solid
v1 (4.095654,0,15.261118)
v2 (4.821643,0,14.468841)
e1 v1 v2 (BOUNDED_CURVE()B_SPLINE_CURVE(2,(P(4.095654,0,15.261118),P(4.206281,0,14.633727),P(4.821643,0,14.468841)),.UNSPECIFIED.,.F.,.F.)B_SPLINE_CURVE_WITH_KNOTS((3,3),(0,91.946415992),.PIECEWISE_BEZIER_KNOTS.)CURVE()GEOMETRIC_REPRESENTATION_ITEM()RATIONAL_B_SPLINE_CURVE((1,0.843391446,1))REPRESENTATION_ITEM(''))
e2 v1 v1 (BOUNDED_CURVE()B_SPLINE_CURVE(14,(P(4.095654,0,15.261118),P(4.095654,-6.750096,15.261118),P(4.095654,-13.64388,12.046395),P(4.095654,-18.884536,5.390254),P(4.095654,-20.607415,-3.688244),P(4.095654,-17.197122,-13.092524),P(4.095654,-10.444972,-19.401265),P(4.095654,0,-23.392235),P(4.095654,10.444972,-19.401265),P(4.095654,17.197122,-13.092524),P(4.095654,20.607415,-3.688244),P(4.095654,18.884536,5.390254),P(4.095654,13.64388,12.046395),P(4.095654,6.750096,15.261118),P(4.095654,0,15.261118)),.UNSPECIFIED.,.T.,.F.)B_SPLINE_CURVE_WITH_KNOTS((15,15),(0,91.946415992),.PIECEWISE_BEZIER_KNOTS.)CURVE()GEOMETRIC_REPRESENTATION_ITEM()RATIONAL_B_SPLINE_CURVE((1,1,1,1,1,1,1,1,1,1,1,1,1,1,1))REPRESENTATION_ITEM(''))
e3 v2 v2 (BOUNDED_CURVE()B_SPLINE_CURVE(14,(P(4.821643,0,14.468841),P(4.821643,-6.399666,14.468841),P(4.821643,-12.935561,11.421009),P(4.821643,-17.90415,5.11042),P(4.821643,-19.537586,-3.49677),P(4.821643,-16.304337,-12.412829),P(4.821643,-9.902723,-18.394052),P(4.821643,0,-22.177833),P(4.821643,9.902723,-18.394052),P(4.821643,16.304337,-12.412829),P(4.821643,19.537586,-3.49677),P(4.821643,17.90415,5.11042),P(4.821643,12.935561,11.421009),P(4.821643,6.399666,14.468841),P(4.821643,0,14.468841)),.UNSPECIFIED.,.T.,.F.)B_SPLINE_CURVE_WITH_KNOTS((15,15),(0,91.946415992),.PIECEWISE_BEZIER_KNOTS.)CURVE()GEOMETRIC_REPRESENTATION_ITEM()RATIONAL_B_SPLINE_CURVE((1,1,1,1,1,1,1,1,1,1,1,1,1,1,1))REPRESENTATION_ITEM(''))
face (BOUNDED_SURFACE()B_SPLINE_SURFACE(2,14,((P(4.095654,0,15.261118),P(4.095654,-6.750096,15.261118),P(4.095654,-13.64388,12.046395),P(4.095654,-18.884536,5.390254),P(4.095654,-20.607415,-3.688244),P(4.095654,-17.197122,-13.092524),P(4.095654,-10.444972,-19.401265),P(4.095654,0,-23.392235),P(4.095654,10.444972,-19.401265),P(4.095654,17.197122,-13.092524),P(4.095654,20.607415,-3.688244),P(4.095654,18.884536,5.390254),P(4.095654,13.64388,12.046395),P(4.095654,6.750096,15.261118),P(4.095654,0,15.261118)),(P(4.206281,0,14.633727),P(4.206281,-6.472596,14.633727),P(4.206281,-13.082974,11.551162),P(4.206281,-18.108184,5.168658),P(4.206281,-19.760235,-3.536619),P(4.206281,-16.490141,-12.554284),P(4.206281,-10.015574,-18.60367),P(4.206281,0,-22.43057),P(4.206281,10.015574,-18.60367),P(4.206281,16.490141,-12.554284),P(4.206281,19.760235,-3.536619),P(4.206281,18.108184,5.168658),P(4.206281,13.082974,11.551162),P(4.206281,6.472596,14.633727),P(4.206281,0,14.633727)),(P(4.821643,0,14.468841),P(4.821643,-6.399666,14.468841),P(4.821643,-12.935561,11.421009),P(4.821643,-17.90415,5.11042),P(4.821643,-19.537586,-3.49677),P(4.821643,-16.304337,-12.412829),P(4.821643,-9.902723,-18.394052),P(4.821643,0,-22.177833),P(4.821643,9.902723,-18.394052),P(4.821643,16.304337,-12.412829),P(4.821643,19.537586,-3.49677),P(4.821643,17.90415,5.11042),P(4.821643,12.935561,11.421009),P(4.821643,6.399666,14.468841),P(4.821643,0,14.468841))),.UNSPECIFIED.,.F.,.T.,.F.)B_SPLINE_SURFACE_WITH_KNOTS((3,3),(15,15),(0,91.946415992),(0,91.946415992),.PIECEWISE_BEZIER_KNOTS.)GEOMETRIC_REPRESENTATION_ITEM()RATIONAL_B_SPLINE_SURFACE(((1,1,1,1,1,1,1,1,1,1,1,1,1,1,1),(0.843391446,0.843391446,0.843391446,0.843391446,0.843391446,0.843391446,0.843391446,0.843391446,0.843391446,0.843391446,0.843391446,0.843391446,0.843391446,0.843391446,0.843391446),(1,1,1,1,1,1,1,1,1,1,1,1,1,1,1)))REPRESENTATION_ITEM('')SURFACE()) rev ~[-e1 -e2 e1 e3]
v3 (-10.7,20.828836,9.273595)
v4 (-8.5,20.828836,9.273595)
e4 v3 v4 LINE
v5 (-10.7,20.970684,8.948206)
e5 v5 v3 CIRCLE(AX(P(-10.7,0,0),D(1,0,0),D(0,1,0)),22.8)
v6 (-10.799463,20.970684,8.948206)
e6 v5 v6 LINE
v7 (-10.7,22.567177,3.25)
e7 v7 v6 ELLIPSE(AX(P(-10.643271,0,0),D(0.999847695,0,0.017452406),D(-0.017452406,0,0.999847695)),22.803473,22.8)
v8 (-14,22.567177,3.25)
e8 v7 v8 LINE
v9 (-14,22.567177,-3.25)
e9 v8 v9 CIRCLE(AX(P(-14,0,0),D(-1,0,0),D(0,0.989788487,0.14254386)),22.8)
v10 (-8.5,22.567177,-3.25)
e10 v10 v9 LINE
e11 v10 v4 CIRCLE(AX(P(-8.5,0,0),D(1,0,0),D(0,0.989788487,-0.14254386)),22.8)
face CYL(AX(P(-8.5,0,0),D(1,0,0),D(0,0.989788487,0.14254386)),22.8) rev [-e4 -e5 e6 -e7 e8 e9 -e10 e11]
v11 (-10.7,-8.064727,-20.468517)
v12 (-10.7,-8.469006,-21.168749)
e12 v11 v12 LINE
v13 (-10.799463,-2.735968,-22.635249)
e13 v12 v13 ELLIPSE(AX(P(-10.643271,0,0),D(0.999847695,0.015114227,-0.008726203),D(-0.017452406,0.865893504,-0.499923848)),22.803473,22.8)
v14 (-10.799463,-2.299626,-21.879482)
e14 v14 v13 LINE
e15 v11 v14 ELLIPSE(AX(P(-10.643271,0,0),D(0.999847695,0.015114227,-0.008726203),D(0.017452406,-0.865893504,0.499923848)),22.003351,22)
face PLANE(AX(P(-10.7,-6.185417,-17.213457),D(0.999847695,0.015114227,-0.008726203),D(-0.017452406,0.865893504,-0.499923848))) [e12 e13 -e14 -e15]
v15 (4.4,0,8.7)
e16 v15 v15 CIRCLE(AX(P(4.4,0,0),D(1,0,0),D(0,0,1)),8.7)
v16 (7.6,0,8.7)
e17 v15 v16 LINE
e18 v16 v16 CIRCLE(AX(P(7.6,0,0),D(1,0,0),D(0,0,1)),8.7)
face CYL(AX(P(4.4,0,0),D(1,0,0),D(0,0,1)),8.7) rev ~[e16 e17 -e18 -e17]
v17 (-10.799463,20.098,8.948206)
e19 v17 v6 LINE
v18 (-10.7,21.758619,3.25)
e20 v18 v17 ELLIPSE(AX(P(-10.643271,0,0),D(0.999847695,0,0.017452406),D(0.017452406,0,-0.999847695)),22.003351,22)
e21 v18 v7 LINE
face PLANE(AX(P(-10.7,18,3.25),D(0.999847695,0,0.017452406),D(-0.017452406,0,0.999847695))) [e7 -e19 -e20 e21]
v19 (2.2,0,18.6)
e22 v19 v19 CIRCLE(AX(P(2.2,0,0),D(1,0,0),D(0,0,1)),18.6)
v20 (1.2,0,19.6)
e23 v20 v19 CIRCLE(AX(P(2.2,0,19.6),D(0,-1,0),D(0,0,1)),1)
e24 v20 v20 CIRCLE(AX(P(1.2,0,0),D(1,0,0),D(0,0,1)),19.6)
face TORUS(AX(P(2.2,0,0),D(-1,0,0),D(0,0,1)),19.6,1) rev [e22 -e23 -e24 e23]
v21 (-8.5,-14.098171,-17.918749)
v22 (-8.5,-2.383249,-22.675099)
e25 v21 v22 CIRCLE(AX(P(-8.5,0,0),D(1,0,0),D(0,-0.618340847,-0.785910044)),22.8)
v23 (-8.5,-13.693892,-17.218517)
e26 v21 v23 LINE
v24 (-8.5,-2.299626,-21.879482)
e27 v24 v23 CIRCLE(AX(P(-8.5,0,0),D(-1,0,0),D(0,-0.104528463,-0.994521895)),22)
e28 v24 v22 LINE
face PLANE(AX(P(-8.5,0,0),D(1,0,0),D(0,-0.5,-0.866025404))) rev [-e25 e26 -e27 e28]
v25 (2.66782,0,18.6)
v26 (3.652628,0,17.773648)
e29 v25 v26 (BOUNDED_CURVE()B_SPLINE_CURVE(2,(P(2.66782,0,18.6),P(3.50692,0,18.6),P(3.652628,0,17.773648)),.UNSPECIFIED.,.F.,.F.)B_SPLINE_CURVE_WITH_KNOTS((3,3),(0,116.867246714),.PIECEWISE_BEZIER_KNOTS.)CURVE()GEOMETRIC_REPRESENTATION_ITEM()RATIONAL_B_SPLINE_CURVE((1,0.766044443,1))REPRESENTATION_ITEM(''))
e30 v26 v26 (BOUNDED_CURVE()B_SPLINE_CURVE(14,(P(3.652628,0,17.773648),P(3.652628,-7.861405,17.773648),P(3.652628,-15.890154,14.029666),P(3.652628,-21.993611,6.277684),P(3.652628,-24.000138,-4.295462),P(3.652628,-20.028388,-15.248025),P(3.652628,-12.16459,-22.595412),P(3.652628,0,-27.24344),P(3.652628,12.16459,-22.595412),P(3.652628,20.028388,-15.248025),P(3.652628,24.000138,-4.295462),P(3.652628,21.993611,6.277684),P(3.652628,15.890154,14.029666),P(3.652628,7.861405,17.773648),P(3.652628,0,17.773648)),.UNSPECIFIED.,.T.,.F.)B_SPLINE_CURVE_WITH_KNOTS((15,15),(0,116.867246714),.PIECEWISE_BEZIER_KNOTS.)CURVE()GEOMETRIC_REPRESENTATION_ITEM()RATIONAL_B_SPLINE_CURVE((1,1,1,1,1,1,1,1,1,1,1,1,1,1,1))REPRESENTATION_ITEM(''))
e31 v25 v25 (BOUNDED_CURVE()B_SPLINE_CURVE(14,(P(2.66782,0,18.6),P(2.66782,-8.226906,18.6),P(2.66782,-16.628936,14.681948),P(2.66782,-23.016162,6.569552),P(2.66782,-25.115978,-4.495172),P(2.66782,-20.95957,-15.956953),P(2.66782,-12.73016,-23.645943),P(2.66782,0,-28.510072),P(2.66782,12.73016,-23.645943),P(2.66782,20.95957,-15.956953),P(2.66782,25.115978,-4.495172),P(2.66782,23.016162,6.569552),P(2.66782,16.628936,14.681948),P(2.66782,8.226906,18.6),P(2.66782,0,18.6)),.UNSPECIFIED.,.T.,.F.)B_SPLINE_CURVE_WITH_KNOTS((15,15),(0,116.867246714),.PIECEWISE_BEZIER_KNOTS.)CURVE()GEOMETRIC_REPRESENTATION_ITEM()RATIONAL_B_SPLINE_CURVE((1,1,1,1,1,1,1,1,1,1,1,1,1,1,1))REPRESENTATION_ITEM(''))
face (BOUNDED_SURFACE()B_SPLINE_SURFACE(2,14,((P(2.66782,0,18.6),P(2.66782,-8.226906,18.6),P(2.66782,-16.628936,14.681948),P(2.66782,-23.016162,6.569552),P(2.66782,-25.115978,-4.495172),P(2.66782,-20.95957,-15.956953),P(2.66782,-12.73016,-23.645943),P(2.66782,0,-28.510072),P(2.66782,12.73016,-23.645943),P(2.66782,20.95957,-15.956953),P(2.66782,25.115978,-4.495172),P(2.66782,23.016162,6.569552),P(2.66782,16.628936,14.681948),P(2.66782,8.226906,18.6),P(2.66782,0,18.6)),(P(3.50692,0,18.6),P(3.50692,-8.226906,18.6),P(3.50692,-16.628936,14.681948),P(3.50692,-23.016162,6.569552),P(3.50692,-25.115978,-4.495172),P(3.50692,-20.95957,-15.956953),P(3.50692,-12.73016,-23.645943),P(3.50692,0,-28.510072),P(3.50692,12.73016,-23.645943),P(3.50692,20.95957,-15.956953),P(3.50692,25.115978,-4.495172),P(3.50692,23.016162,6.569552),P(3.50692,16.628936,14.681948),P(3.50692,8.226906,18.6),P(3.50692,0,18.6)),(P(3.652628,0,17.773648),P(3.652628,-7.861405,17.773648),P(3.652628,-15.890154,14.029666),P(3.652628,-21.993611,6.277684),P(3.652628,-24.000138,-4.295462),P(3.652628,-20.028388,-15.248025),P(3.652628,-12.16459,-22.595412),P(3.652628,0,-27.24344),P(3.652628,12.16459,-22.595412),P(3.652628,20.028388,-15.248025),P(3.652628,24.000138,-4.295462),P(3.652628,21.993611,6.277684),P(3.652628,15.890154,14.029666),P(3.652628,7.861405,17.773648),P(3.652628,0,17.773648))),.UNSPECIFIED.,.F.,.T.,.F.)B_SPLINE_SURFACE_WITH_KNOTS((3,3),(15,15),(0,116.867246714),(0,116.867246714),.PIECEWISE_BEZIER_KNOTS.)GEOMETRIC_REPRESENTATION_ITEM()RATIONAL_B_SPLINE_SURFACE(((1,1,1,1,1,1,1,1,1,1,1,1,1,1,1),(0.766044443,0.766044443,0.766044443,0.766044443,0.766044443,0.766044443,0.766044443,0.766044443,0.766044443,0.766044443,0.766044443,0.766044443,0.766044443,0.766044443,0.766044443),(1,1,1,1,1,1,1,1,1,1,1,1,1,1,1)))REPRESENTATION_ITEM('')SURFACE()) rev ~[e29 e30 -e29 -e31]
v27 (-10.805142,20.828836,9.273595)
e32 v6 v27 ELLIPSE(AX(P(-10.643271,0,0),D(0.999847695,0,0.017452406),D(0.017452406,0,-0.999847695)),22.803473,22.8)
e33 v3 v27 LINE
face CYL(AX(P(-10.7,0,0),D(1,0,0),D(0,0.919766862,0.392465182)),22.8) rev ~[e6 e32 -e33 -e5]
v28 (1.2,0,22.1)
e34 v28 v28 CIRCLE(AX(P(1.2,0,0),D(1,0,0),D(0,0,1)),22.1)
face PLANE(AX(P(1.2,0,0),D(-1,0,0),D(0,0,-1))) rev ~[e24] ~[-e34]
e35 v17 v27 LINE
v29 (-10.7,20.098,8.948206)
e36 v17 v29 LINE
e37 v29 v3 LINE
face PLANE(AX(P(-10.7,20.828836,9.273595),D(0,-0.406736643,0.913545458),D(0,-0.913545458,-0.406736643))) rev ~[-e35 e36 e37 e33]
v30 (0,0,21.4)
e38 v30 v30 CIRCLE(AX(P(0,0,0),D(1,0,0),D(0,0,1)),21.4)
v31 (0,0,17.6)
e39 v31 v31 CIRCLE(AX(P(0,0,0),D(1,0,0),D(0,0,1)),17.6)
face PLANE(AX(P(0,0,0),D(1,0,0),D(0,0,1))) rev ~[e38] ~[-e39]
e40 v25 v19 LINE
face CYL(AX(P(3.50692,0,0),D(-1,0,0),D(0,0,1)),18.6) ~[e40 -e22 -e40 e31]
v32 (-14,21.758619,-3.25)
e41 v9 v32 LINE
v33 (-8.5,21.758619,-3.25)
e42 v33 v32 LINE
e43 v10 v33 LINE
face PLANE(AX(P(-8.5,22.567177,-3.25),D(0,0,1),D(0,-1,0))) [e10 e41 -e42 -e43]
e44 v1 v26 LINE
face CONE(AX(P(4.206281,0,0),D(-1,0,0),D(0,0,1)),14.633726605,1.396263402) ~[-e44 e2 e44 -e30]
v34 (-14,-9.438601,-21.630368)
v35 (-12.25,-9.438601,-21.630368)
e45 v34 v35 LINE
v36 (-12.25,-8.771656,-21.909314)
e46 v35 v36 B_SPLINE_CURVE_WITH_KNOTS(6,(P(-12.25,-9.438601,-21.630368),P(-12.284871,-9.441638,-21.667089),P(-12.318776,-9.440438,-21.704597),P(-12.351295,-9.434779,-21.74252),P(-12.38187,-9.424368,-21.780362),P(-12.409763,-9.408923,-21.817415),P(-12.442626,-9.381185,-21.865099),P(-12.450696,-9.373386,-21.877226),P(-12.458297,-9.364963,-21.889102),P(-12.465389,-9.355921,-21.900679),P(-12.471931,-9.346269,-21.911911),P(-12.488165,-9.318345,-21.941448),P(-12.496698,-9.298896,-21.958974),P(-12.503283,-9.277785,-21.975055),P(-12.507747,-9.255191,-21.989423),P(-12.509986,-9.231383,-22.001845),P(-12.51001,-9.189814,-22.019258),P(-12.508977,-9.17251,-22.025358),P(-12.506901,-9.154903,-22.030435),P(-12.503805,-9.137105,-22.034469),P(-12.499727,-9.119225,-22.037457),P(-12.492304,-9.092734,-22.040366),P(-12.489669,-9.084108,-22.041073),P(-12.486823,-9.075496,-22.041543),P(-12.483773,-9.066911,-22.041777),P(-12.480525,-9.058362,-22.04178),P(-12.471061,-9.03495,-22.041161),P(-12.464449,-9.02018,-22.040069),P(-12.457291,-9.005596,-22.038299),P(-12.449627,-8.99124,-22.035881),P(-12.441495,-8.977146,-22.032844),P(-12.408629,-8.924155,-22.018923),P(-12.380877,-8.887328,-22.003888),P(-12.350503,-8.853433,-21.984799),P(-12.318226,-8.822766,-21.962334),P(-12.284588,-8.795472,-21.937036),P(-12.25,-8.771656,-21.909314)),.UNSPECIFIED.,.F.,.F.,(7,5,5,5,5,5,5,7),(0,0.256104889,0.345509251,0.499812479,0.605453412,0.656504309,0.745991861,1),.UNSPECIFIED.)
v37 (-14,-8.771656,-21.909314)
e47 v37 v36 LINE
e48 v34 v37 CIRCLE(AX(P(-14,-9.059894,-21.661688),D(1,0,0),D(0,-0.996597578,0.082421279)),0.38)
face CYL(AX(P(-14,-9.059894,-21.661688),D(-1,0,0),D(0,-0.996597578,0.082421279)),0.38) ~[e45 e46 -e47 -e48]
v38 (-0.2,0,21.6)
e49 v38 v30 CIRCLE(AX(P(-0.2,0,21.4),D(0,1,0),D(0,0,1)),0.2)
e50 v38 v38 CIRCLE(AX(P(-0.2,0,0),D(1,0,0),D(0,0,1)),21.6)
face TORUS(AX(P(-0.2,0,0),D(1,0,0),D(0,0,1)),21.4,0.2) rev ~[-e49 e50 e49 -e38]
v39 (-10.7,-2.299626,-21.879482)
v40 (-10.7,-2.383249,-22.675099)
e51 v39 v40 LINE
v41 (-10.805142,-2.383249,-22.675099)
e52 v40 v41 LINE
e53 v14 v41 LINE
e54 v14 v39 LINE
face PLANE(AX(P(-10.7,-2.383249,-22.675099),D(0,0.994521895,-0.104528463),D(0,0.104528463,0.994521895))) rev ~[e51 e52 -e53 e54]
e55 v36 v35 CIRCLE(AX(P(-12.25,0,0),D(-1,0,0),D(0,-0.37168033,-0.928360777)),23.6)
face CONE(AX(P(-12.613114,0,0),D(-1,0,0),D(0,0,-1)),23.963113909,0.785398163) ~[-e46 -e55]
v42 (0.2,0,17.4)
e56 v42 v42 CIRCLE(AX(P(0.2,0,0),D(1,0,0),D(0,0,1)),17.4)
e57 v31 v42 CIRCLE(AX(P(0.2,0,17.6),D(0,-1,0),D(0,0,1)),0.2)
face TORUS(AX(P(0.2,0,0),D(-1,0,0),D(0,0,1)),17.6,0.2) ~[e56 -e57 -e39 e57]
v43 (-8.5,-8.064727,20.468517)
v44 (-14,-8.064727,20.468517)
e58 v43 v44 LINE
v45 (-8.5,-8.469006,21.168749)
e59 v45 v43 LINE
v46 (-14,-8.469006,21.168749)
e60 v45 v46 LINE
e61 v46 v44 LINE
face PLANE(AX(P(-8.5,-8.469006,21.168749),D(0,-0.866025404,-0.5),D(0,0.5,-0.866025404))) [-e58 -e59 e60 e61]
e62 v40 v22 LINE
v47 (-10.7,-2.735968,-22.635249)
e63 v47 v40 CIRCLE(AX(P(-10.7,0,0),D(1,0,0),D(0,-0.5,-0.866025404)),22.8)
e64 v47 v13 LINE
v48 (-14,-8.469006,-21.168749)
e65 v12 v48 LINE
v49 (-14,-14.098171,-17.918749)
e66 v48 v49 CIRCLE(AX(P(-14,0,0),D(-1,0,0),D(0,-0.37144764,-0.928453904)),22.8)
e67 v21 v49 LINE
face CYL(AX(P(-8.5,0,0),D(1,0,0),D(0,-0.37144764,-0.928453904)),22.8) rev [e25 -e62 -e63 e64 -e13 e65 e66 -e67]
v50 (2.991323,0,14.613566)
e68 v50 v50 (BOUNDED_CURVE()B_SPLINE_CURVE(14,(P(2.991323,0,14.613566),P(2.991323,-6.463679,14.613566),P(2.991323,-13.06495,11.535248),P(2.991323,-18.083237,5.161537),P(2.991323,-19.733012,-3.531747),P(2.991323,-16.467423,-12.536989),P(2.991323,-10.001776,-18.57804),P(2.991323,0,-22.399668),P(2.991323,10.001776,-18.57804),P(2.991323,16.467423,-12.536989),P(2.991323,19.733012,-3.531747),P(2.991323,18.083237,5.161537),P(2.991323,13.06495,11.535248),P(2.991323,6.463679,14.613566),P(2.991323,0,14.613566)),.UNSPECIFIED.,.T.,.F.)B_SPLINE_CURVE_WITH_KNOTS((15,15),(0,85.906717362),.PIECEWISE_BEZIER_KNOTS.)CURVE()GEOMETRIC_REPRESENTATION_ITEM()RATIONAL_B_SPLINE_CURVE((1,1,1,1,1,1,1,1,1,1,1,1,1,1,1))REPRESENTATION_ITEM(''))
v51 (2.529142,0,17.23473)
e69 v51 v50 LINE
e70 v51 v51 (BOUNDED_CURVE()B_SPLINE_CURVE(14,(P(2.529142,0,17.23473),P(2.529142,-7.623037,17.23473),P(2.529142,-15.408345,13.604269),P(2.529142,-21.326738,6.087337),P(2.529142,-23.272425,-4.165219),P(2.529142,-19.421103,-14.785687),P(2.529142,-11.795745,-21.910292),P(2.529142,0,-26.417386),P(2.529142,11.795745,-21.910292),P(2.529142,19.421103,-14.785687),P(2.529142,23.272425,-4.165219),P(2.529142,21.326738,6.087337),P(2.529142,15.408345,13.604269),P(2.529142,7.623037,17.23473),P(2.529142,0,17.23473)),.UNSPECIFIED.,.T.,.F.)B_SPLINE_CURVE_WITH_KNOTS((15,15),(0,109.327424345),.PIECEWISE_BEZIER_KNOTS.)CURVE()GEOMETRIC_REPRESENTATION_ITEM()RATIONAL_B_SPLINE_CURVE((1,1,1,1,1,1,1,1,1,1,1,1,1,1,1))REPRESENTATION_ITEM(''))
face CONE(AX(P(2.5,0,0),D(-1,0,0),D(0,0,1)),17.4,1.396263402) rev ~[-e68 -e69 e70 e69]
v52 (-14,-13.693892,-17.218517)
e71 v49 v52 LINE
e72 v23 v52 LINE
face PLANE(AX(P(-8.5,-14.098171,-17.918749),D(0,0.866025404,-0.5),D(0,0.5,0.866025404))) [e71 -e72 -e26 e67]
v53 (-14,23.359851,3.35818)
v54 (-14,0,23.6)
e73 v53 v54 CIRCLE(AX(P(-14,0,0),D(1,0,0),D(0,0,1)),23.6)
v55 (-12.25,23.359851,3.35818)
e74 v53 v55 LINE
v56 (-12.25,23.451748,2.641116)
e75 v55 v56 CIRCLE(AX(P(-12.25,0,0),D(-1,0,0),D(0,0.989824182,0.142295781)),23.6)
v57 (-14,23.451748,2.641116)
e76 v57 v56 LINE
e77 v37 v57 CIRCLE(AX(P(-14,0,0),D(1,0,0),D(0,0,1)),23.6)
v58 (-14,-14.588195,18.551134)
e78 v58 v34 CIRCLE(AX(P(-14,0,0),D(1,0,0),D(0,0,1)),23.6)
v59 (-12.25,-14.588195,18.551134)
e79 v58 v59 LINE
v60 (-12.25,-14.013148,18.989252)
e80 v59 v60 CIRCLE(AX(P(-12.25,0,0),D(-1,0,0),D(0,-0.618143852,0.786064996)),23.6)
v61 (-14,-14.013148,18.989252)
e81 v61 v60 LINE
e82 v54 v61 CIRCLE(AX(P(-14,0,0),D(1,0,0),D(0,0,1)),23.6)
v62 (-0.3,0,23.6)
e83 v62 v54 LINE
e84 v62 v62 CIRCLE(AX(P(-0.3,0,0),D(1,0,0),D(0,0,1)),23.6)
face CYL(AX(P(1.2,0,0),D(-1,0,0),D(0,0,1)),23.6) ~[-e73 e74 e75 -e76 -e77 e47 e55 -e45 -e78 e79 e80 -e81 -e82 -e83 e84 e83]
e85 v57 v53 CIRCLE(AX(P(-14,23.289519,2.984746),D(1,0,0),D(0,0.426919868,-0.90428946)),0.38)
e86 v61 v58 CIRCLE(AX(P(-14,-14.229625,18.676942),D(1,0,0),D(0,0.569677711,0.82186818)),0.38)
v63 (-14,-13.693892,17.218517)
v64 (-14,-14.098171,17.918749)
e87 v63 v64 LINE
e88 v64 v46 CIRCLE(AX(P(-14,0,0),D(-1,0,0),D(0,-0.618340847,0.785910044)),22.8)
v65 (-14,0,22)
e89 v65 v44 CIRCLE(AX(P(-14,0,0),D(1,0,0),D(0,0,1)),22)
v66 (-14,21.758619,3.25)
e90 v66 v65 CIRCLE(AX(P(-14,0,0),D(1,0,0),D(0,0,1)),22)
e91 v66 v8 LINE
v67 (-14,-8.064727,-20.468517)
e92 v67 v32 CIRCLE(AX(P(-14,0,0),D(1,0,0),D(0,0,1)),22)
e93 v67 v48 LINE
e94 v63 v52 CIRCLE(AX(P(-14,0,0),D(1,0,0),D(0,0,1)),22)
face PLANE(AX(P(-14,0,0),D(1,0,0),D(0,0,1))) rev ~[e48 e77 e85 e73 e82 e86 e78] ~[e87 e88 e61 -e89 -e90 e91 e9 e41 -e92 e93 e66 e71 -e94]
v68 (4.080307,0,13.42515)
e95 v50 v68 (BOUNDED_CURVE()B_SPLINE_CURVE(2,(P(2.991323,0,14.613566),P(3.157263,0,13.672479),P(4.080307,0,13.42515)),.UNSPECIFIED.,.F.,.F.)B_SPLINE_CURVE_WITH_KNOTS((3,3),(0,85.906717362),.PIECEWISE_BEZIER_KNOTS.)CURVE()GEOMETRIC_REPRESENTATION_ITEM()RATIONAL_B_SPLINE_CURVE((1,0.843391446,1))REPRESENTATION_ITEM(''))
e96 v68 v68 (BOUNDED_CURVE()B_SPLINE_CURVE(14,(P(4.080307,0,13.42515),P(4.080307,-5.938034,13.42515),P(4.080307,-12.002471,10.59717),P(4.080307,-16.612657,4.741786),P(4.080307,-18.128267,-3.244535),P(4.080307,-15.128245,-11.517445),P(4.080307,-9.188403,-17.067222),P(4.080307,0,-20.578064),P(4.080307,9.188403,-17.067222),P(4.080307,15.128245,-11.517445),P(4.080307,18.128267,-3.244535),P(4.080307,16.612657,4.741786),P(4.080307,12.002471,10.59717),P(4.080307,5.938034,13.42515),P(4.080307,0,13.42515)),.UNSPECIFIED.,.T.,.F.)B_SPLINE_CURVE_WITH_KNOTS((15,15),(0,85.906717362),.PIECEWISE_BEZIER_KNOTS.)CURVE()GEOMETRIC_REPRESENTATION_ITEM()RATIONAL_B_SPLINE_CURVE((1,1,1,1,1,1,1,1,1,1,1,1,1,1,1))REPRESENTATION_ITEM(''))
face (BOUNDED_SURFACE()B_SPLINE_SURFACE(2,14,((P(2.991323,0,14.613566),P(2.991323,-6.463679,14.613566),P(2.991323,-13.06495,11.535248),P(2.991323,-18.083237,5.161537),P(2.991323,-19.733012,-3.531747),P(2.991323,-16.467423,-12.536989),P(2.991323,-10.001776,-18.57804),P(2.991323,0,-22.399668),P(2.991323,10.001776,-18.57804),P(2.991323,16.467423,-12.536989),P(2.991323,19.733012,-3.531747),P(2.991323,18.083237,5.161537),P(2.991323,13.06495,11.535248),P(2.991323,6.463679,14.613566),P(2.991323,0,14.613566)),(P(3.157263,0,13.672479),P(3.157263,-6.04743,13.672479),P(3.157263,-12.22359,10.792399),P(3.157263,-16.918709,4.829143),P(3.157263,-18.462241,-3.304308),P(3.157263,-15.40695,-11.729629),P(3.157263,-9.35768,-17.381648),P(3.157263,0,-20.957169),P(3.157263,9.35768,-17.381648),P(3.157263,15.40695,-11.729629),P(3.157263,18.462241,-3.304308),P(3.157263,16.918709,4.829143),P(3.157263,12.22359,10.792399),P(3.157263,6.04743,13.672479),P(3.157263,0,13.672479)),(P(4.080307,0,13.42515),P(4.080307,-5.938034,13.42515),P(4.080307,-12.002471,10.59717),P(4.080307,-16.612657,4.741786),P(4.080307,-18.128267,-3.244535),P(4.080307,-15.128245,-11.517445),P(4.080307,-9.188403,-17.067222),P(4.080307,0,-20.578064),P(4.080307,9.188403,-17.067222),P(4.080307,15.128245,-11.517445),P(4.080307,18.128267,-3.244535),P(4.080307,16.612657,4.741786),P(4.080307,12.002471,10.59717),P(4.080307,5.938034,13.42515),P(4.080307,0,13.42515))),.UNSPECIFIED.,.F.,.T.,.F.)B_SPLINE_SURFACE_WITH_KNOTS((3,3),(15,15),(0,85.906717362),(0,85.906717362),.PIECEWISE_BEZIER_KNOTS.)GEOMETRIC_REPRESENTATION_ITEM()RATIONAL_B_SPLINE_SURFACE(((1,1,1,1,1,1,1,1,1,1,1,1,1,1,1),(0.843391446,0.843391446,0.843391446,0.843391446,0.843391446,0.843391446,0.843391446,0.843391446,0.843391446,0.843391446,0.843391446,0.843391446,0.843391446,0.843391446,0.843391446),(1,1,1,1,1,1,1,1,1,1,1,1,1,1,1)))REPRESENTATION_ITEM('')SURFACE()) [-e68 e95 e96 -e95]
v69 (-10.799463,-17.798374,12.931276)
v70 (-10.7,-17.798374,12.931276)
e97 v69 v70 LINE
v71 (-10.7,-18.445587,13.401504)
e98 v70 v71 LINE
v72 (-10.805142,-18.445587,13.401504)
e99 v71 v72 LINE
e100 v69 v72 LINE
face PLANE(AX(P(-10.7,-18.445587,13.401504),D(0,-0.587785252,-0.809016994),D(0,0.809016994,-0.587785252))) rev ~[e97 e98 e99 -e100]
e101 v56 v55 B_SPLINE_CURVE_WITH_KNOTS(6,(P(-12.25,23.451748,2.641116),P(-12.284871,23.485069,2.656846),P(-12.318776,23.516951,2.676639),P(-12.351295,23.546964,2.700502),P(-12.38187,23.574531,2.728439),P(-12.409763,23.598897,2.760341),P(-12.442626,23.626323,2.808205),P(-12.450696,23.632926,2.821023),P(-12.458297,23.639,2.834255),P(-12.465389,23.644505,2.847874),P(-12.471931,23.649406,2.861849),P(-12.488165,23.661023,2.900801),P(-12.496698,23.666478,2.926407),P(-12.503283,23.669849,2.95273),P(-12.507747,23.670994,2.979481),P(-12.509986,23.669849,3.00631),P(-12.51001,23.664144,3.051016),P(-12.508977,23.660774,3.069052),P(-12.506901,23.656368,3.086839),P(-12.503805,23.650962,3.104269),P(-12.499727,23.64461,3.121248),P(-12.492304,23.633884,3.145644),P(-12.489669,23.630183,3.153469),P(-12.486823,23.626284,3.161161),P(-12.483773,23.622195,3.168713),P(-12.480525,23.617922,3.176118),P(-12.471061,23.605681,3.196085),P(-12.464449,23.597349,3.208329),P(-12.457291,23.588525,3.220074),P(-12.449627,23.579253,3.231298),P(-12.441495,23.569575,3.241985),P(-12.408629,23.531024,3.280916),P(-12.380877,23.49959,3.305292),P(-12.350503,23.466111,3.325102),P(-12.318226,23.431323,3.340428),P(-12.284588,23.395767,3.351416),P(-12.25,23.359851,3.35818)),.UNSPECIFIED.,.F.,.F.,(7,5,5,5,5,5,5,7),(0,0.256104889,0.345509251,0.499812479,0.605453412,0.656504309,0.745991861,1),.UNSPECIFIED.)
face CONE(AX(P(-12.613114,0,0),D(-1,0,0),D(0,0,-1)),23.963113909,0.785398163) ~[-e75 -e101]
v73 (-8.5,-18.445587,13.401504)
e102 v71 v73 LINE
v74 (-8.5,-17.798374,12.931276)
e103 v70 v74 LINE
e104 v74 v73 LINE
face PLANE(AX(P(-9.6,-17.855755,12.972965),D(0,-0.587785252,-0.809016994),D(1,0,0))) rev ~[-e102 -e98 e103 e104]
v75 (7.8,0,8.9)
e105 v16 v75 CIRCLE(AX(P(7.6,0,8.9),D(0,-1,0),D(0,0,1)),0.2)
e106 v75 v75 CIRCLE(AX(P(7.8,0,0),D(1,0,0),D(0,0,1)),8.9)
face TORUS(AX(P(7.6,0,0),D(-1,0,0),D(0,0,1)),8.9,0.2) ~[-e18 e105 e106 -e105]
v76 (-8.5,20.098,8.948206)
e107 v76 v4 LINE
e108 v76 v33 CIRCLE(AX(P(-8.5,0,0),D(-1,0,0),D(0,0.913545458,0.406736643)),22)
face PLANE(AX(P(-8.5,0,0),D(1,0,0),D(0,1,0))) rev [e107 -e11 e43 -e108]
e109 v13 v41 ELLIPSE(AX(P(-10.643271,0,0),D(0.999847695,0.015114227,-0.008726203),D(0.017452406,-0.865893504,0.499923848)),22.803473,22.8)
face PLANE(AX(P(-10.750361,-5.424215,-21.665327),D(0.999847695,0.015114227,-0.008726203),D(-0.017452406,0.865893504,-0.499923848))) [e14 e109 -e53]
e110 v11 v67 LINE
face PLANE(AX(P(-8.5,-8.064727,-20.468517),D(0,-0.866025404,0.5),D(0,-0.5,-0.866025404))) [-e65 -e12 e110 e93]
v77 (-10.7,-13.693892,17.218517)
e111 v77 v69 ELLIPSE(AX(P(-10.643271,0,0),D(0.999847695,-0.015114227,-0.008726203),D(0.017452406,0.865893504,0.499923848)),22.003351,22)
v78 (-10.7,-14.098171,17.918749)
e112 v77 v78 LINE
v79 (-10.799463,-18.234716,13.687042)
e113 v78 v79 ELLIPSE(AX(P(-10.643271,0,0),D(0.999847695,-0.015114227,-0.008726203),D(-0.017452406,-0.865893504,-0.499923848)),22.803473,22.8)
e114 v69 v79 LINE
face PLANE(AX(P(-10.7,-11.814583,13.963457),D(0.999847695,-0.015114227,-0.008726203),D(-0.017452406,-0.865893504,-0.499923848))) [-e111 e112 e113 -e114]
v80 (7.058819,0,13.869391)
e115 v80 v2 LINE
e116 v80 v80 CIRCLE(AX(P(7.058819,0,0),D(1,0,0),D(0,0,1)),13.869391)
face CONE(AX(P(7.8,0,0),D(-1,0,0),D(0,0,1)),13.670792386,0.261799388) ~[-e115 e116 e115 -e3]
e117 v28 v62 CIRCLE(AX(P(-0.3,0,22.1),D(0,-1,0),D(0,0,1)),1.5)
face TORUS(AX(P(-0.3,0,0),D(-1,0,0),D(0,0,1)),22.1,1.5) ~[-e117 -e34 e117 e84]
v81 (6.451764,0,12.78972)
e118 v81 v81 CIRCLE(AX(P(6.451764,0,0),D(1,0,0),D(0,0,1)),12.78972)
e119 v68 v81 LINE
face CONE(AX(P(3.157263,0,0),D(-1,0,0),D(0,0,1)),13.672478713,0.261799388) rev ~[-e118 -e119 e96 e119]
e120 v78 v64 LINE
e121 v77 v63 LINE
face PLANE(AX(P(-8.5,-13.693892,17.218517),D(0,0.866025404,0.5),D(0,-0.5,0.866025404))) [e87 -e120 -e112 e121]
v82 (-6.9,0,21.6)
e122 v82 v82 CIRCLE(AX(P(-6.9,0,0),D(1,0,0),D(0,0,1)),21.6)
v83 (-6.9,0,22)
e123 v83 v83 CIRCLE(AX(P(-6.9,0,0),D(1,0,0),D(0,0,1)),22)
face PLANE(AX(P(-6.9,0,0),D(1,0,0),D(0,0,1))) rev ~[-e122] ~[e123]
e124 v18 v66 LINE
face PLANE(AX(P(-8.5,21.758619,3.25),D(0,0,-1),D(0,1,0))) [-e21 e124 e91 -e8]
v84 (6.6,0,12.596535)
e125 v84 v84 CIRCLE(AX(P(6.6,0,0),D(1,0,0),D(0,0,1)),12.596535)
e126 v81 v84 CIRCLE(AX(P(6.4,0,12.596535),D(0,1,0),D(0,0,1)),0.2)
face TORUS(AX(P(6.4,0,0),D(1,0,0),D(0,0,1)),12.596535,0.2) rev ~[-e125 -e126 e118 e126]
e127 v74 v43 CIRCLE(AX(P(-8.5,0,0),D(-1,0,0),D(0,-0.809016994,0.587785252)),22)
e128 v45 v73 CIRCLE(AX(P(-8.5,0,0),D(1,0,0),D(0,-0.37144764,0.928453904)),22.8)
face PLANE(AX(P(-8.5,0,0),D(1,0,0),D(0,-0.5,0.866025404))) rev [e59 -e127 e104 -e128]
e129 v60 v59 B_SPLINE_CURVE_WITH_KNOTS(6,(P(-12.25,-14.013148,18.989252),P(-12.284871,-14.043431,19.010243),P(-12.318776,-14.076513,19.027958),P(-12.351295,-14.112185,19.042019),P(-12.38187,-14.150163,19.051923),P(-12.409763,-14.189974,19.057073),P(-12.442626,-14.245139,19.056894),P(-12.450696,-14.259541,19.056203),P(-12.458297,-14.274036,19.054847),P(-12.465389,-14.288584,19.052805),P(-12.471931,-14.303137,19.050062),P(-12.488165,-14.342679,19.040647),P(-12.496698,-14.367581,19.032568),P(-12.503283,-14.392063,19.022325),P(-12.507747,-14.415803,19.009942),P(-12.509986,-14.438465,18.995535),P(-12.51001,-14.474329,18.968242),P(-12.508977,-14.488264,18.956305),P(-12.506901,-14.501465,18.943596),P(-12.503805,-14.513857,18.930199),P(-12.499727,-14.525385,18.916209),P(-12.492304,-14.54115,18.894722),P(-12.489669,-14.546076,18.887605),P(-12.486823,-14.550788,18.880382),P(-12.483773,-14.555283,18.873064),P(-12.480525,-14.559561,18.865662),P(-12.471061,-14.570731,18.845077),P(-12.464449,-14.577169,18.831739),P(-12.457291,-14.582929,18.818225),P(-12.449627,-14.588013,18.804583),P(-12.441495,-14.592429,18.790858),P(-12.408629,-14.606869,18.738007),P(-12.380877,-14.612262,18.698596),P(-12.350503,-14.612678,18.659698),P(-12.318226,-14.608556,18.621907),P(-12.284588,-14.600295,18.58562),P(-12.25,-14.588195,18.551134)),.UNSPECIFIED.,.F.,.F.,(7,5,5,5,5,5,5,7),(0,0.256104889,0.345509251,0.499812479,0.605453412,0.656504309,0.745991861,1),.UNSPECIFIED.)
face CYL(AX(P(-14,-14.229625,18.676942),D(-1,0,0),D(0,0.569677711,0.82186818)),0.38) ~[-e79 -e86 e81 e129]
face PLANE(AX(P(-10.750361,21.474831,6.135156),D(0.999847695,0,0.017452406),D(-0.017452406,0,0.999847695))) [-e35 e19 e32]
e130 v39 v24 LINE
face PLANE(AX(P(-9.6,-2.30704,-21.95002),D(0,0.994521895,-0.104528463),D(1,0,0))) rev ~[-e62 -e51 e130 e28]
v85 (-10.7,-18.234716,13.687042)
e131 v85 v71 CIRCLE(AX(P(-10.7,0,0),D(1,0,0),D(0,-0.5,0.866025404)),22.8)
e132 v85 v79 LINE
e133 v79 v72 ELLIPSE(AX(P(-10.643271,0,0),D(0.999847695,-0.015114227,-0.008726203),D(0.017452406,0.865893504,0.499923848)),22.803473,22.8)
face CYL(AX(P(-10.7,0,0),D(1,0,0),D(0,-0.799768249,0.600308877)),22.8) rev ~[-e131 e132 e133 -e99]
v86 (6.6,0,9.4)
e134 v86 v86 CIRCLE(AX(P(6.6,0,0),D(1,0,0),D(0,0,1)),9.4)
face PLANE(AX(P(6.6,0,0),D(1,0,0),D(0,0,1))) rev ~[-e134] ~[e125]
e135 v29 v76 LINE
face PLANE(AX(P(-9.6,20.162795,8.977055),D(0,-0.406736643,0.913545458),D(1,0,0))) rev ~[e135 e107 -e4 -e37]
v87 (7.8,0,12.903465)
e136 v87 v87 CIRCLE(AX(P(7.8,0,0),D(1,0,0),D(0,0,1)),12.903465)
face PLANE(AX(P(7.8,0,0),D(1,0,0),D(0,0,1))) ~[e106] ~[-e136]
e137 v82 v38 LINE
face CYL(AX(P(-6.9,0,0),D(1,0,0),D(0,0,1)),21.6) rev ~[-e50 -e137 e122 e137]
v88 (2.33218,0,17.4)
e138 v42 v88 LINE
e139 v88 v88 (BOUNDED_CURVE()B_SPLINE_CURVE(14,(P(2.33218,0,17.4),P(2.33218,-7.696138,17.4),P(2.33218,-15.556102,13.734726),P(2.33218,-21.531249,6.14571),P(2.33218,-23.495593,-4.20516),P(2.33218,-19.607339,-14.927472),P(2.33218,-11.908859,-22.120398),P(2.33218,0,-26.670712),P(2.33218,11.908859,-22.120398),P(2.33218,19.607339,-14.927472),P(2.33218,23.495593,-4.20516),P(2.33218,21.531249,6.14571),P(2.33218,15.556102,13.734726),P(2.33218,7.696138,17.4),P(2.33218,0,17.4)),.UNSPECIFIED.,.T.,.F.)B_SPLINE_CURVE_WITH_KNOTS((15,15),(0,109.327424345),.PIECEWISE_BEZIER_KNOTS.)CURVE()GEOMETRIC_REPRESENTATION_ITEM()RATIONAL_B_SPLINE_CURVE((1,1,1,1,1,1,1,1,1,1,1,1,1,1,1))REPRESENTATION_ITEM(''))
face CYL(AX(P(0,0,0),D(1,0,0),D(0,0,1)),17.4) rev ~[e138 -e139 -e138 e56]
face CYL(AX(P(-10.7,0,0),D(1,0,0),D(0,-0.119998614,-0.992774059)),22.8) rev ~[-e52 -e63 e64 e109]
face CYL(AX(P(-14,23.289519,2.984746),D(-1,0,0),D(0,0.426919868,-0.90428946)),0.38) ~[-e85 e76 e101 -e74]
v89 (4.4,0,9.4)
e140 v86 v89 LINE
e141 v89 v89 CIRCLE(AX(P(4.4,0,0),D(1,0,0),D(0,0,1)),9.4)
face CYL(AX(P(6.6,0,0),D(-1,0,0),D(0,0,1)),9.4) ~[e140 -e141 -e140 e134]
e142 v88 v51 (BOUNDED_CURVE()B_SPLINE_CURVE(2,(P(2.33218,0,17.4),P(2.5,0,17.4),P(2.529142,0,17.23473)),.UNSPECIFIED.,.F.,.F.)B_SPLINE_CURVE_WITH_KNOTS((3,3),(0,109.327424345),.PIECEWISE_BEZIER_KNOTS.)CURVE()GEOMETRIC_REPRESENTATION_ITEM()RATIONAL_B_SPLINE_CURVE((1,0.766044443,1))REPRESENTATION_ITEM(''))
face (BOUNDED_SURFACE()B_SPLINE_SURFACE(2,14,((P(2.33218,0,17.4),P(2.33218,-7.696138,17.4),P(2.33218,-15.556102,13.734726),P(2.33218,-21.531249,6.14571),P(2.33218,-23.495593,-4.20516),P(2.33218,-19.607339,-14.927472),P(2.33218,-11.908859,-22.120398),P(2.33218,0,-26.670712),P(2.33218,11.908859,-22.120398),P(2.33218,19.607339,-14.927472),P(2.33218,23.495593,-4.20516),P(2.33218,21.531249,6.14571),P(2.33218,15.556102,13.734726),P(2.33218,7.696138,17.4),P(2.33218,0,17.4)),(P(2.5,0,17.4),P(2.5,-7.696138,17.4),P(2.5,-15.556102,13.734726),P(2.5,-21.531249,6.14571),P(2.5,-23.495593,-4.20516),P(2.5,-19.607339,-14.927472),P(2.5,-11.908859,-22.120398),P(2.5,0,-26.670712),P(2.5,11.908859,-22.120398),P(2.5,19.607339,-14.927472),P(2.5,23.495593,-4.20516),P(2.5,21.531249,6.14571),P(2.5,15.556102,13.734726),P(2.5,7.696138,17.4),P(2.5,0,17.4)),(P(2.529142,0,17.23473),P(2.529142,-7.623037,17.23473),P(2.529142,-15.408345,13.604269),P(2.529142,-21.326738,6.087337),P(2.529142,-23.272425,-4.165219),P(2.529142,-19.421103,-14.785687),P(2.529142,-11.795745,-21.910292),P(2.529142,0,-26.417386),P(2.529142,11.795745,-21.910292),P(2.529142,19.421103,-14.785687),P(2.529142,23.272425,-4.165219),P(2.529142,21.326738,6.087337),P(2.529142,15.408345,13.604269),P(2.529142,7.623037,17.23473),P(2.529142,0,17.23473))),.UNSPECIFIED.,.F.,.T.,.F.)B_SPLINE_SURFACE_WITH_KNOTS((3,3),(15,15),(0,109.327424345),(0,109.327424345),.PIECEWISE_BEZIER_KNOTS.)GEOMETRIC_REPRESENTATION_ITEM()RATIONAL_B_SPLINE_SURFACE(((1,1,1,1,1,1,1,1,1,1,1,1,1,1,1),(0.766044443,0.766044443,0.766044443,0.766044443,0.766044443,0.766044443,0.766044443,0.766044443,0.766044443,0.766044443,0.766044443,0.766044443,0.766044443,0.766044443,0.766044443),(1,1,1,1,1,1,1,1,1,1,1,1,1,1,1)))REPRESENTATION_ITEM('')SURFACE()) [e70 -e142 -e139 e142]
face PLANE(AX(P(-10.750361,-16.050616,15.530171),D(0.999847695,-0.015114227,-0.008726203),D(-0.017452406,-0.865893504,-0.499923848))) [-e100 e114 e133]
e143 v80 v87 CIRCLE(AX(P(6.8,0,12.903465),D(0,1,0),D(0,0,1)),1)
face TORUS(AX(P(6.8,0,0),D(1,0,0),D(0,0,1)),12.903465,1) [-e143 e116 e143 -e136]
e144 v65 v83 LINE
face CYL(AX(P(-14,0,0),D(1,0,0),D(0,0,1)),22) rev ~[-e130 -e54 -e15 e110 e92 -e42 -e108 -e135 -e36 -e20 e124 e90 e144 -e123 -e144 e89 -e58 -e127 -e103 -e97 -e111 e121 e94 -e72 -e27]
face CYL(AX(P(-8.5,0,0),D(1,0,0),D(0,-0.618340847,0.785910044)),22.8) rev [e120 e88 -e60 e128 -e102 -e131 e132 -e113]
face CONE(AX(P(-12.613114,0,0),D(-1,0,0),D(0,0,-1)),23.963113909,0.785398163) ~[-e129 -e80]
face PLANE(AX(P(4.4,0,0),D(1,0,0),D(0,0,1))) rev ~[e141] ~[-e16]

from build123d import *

# Parameters (mm, degrees)
FILLET_1_R               = 0.2
FILLET_2_R               = 1
FILLET_3_R               = 1.5
CUT_EXTRUDE_START        = -1
CUT_EXTRUDE_1_DEPTH      = 1
CUT_EXTRUDE_START_2      = -5.5
CUT_EXTRUDE_2_DEPTH      = 5.5
SKETCH_5_W               = 2.200000000000001
SKETCH_5_H               = 1.458146796235166
CUT_REVOLVE_1_ANGLE      = 24.000000000000053
CUT_EXTRUDE_3_REACH      = 51.835
CUT_EXTRUDE_3_END_RADIUS = 22.8
PATTERN_CIRCULAR_1_COUNT = 3
CUT_EXTRUDE_5_REACH      = 40.16
PATTERN_CIRCULAR_3_COUNT = 3
CUT_EXTRUDE_6_REACH      = 40.16
CUT_EXTRUDE_7_REACH      = 40.16
EXTRUDE_2_DEPTH          = 1.75
PATTERN_CIRCULAR_7_COUNT = 3


with BuildPart() as part:
    # 草图2 → 旋转1 (revolve)
    with BuildSketch(Plane.XY, mode=Mode.PRIVATE) as revolve_1_sk:
        Polygon((-13.999999999999998, 22), (-6.899999999999999, 22), (-6.899999999999999, 21.599999999999998), (1.73e-15, 21.599999999999998), (2.28e-15, 17.4), (2.500000000000002, 17.4), (3.157262574057294, 13.672478713033763), (6.600000000000001, 12.75), (6.600000000000003, 9.4), (4.400000000000003, 9.4), (4.400000000000003, 8.700000000000001), (7.800000000000003, 8.700000000000001), (7.800000000000003, 13.670792385574746), (4.206280569869923, 14.633726604702153), (3.506919557412737, 18.599999999999998), (1.200000000000002, 18.599999999999998), (1.2000000000000015, 23.599999999999998), (-13.999999999999998, 23.599999999999998), align=None)
    revolve(revolve_1_sk.sketch.rotate(Axis((-36.93660531697341, 0, 0), (1, 0, 0)), 90), axis=Axis((-36.93660531697341, 0, 0), (1, 0, 0)))

    # 圆角1
    fillet_1_edges = [part.edges().sort_by_distance(p)[0] for p in [
        (0, 4.55e-15, -21.599999999999998),
        (0, -4.06e-15, -17.4),
        (2.5, -4.06e-15, -17.4),
        (6.600000000000001, -2.98e-15, -12.75),
        (7.800000000000004, -2.03e-15, -8.700000000000001),
    ]]
    fillet(fillet_1_edges, radius=FILLET_1_R)

    # 圆角2
    fillet_2_edges = [part.edges().sort_by_distance(p)[0] for p in [
        (7.800000000000004, -3.19e-15, -13.670792385574746),
        (4.206280569869925, -3.42e-15, -14.633726604702153),
        (3.5069195574127363, -4.34e-15, -18.599999999999998),
        (1.2000000000000028, -4.34e-15, -18.599999999999998),
    ]]
    fillet(fillet_2_edges, radius=FILLET_2_R)

    # 圆角3
    fillet_3_edges = [part.edges().sort_by_distance(p)[0] for p in [
        (3.1572625740572917, -3.19e-15, -13.672478713033763),
        (1.2000000000000028, -5.51e-15, -23.599999999999998),
    ]]
    fillet(fillet_3_edges, radius=FILLET_3_R)

    # 草图3 → 切除-拉伸1 (cut)
    with BuildSketch(Plane.ZY.offset(13.999999999999998).offset(CUT_EXTRUDE_START)):
        with BuildLine():
            Line((-0.49999999999999933, 22.599999999999998), (0.5000000000000004, 22.599999999999998))
            Line((0.5000000000000004, 22.599999999999998), (0.5000000000000006, 21.99431744792277))
            ThreePointArc((0.5000000000000006, 21.99431744792277), (1.35e-15, 22), (-0.4999999999999993, 21.99431744792277))
            Line((-0.4999999999999993, 21.99431744792277), (-0.49999999999999933, 22.599999999999998))
        make_face()
    extrude(amount=CUT_EXTRUDE_1_DEPTH, mode=Mode.SUBTRACT)

    # 草图4 → 切除-拉伸2 (cut)
    with BuildSketch(Plane.ZY.offset(13.999999999999998).offset(CUT_EXTRUDE_START_2)):
        with BuildLine():
            Line((-3.2499999999999982, 22.56717749298747), (-3.2499999999999987, 21.75861898191151))
            ThreePointArc((-3.2499999999999987, 21.75861898191151), (1.35e-15, 21.999999999999996), (3.2500000000000013, 21.75861898191151))
            Line((3.2500000000000013, 21.75861898191151), (3.2500000000000018, 22.567177492987465))
            ThreePointArc((3.2500000000000018, 22.567177492987465), (1.4e-15, 22.8), (-3.2499999999999982, 22.56717749298747))
        make_face()
    cut_extrude_2 = extrude(amount=CUT_EXTRUDE_2_DEPTH, mode=Mode.SUBTRACT)

    # 草图5 → 切除-旋转1 (revolve, cut)
    with BuildSketch(Plane.XY):
        with Locations((-9.599999999999994, 22.070926601882412)):
            Rectangle(SKETCH_5_W, SKETCH_5_H)
    cut_revolve_1 = revolve(axis=Axis((16.624194515447005, 0, 0), (1, 0, 0)), revolution_arc=CUT_REVOLVE_1_ANGLE, mode=Mode.SUBTRACT)

    # 切除-拉伸3: up to this cylinder (the profile starts inside it)
    cut_extrude_3_end = Plane(origin=(-10.733154, 0, 0), z_dir=(-1, 0, 0)) * Cylinder(CUT_EXTRUDE_3_END_RADIUS, 150.27, mode=Mode.PRIVATE)
    # 草图6 → 切除-拉伸3 (cut, up to the surface)
    with BuildSketch(Plane(origin=(0, 18, 0), x_dir=(1, 0, 0), z_dir=(0, 1, 0)), mode=Mode.PRIVATE) as cut_extrude_3_sk1:
        Polygon((-10.699999999999994, -8.948206147667621), (-10.699999999999994, -3.2500000000000013), (-10.799462558281862, -8.948206147667621), align=None)
    cut_extrude_3_tool1 = extrude(cut_extrude_3_sk1.sketch, amount=CUT_EXTRUDE_3_REACH, mode=Mode.PRIVATE) & cut_extrude_3_end
    cut_extrude_3 = cut_extrude_3_tool1.solids().sort_by_distance((-10.733154, 18, 7.048804))[0]
    add(cut_extrude_3, mode=Mode.SUBTRACT)

    # 阵列(圆周)1: 切除-拉伸2, 切除-旋转1 ×3 about axis
    pattern_circular_1_axis = Axis((0, 1e-17, 1.4e-16), (1, 0, 0))
    add([cut_extrude_2.rotate(pattern_circular_1_axis, i * 360 / PATTERN_CIRCULAR_1_COUNT) for i in range(1, PATTERN_CIRCULAR_1_COUNT)], mode=Mode.SUBTRACT)
    add([cut_revolve_1.rotate(pattern_circular_1_axis, i * 360 / PATTERN_CIRCULAR_1_COUNT) for i in range(1, PATTERN_CIRCULAR_1_COUNT)], mode=Mode.SUBTRACT)

    # 切除-拉伸5: up to this face of the body (flat: up to its plane)
    cut_extrude_5_end = Plane(part.part.faces().sort_by_distance((-10.750360581, 21.4748312, 6.135155752))[0])
    # 草图9 → 切除-拉伸5 (cut, up to the picked face)
    with BuildSketch(Plane(origin=(-10.699999999999994, 0, 0), x_dir=(0, 0, -1), z_dir=(1, 0, 0)), mode=Mode.PRIVATE) as cut_extrude_5_sk1:
        with BuildLine():
            Line((-9.273595462128261, 20.82883643425129), (-8.948206147667621, 20.09800006813721))
            Line((-8.948206147667621, 20.09800006813721), (-8.948206147667618, 20.970684460428163))
            ThreePointArc((-8.948206147667618, 20.970684460428163), (-9.111176855506788, 20.90039368786333), (-9.273595462128261, 20.82883643425129))
        make_face()
    cut_extrude_5_tool1 = split(extrude(cut_extrude_5_sk1.sketch, amount=-CUT_EXTRUDE_5_REACH, mode=Mode.PRIVATE), bisect_by=cut_extrude_5_end, keep=Keep.BOTH, mode=Mode.PRIVATE)
    add(cut_extrude_5_tool1.solids().sort_by(Axis((-10.7, 20.632815, 9.056732), (-1, 0, 0)))[0], mode=Mode.SUBTRACT)

    # 阵列(圆周)3: 切除-拉伸3 ×3 about axis
    pattern_circular_3_axis = Axis((0, 0, 6.626e-14), (1, 0, 0))
    for i in range(1, PATTERN_CIRCULAR_3_COUNT):
        add(cut_extrude_3.rotate(pattern_circular_3_axis, i * 360 / PATTERN_CIRCULAR_3_COUNT), mode=Mode.SUBTRACT)

    # 切除-拉伸6: up to this face of the body (flat: up to its plane)
    cut_extrude_6_end = Plane(part.part.faces().sort_by_distance((-10.750360581, -5.424214863, -21.665327237))[0])
    # 草图10 → 切除-拉伸6 (cut, up to the picked face)
    with BuildSketch(Plane(origin=(-10.699999999999994, 0, 0), x_dir=(0, 0, -1), z_dir=(1, 0, 0)), mode=Mode.PRIVATE) as cut_extrude_6_sk1:
        with BuildLine():
            Line((22.675099214396656, -2.383248962502268), (21.879481698102033, -2.2996261918881546))
            Line((21.879481698102033, -2.2996261918881546), (22.63524855131219, -2.7359683880336263))
            ThreePointArc((22.63524855131219, -2.7359683880336263), (22.655860310538994, -2.5596862286897593), (22.675099214396656, -2.383248962502268))
        make_face()
    cut_extrude_6_tool1 = split(extrude(cut_extrude_6_sk1.sketch, amount=-CUT_EXTRUDE_6_REACH, mode=Mode.PRIVATE), bisect_by=cut_extrude_6_end, keep=Keep.BOTH, mode=Mode.PRIVATE)
    add(cut_extrude_6_tool1.solids().sort_by(Axis((-10.7, -2.473048, -22.396907), (-1, 0, 0)))[0], mode=Mode.SUBTRACT)

    # 切除-拉伸7: up to this face of the body (flat: up to its plane)
    cut_extrude_7_end = Plane(part.part.faces().sort_by_distance((-10.750360581, -16.050616337, 15.530171486))[0])
    # 草图11 → 切除-拉伸7 (cut, up to the picked face)
    with BuildSketch(Plane(origin=(-10.699999999999994, 0, 0), x_dir=(0, 0, -1), z_dir=(1, 0, 0)), mode=Mode.PRIVATE) as cut_extrude_7_sk1:
        with BuildLine():
            Line((-13.401503752268288, -18.445587471748876), (-12.93127555043432, -17.79837387624892))
            Line((-12.93127555043432, -17.79837387624892), (-13.687042403644462, -18.234716072394395))
            ThreePointArc((-13.687042403644462, -18.234716072394395), (-13.5446834550321, -18.340707459173426), (-13.401503752268288, -18.445587471748876))
        make_face()
    cut_extrude_7_tool1 = split(extrude(cut_extrude_7_sk1.sketch, amount=-CUT_EXTRUDE_7_REACH, mode=Mode.PRIVATE), bisect_by=cut_extrude_7_end, keep=Keep.BOTH, mode=Mode.PRIVATE)
    add(cut_extrude_7_tool1.solids().sort_by(Axis((-10.7, -18.159767, 13.340176), (-1, 0, 0)))[0], mode=Mode.SUBTRACT)

    # 草图14 → 凸台-拉伸2 (add)
    with BuildSketch(Plane.ZY.offset(13.999999999999998)):
        with BuildLine():
            ThreePointArc((3.3581804234219934, 23.359850689671486), (3.0000000000000195, 23.408545448190495), (2.6411157680717094, 23.451748495573703))
            ThreePointArc((2.6411157680717094, 23.451748495573703), (3.0330508474576368, 23.66643620312819), (3.3581804234219934, 23.359850689671486))
        make_face()
    extrude_2 = extrude(amount=-EXTRUDE_2_DEPTH)

    # 阵列(圆周)7: 凸台-拉伸2 ×3 about axis
    pattern_circular_7_axis = Axis((0, -1.44e-15, 1.48e-15), (1, 0, 0))
    for i in range(1, PATTERN_CIRCULAR_7_COUNT):
        add(extrude_2.rotate(pattern_circular_7_axis, i * 360 / PATTERN_CIRCULAR_7_COUNT))

    # 草图15 → 切除-旋转2 (revolve, cut)
    with BuildSketch(Plane(origin=(0, 0, 0), x_dir=(-1, 0, 0), z_dir=(0, 0.12706460860134405, -0.9918944425900305)), mode=Mode.PRIVATE) as cut_revolve_2_sk:
        Polygon((12.249999999999996, 23.599999999999994), (12.249999999999996, 23.963113909123802), (12.61311390912379, 23.963113909123795), align=None)
    revolve(cut_revolve_2_sk.sketch.rotate(Axis((0, 0, 0), (-1, 0, 0)), 97.3), axis=Axis((0, 0, 0), (-1, 0, 0)), mode=Mode.SUBTRACT)


solid = part.part
